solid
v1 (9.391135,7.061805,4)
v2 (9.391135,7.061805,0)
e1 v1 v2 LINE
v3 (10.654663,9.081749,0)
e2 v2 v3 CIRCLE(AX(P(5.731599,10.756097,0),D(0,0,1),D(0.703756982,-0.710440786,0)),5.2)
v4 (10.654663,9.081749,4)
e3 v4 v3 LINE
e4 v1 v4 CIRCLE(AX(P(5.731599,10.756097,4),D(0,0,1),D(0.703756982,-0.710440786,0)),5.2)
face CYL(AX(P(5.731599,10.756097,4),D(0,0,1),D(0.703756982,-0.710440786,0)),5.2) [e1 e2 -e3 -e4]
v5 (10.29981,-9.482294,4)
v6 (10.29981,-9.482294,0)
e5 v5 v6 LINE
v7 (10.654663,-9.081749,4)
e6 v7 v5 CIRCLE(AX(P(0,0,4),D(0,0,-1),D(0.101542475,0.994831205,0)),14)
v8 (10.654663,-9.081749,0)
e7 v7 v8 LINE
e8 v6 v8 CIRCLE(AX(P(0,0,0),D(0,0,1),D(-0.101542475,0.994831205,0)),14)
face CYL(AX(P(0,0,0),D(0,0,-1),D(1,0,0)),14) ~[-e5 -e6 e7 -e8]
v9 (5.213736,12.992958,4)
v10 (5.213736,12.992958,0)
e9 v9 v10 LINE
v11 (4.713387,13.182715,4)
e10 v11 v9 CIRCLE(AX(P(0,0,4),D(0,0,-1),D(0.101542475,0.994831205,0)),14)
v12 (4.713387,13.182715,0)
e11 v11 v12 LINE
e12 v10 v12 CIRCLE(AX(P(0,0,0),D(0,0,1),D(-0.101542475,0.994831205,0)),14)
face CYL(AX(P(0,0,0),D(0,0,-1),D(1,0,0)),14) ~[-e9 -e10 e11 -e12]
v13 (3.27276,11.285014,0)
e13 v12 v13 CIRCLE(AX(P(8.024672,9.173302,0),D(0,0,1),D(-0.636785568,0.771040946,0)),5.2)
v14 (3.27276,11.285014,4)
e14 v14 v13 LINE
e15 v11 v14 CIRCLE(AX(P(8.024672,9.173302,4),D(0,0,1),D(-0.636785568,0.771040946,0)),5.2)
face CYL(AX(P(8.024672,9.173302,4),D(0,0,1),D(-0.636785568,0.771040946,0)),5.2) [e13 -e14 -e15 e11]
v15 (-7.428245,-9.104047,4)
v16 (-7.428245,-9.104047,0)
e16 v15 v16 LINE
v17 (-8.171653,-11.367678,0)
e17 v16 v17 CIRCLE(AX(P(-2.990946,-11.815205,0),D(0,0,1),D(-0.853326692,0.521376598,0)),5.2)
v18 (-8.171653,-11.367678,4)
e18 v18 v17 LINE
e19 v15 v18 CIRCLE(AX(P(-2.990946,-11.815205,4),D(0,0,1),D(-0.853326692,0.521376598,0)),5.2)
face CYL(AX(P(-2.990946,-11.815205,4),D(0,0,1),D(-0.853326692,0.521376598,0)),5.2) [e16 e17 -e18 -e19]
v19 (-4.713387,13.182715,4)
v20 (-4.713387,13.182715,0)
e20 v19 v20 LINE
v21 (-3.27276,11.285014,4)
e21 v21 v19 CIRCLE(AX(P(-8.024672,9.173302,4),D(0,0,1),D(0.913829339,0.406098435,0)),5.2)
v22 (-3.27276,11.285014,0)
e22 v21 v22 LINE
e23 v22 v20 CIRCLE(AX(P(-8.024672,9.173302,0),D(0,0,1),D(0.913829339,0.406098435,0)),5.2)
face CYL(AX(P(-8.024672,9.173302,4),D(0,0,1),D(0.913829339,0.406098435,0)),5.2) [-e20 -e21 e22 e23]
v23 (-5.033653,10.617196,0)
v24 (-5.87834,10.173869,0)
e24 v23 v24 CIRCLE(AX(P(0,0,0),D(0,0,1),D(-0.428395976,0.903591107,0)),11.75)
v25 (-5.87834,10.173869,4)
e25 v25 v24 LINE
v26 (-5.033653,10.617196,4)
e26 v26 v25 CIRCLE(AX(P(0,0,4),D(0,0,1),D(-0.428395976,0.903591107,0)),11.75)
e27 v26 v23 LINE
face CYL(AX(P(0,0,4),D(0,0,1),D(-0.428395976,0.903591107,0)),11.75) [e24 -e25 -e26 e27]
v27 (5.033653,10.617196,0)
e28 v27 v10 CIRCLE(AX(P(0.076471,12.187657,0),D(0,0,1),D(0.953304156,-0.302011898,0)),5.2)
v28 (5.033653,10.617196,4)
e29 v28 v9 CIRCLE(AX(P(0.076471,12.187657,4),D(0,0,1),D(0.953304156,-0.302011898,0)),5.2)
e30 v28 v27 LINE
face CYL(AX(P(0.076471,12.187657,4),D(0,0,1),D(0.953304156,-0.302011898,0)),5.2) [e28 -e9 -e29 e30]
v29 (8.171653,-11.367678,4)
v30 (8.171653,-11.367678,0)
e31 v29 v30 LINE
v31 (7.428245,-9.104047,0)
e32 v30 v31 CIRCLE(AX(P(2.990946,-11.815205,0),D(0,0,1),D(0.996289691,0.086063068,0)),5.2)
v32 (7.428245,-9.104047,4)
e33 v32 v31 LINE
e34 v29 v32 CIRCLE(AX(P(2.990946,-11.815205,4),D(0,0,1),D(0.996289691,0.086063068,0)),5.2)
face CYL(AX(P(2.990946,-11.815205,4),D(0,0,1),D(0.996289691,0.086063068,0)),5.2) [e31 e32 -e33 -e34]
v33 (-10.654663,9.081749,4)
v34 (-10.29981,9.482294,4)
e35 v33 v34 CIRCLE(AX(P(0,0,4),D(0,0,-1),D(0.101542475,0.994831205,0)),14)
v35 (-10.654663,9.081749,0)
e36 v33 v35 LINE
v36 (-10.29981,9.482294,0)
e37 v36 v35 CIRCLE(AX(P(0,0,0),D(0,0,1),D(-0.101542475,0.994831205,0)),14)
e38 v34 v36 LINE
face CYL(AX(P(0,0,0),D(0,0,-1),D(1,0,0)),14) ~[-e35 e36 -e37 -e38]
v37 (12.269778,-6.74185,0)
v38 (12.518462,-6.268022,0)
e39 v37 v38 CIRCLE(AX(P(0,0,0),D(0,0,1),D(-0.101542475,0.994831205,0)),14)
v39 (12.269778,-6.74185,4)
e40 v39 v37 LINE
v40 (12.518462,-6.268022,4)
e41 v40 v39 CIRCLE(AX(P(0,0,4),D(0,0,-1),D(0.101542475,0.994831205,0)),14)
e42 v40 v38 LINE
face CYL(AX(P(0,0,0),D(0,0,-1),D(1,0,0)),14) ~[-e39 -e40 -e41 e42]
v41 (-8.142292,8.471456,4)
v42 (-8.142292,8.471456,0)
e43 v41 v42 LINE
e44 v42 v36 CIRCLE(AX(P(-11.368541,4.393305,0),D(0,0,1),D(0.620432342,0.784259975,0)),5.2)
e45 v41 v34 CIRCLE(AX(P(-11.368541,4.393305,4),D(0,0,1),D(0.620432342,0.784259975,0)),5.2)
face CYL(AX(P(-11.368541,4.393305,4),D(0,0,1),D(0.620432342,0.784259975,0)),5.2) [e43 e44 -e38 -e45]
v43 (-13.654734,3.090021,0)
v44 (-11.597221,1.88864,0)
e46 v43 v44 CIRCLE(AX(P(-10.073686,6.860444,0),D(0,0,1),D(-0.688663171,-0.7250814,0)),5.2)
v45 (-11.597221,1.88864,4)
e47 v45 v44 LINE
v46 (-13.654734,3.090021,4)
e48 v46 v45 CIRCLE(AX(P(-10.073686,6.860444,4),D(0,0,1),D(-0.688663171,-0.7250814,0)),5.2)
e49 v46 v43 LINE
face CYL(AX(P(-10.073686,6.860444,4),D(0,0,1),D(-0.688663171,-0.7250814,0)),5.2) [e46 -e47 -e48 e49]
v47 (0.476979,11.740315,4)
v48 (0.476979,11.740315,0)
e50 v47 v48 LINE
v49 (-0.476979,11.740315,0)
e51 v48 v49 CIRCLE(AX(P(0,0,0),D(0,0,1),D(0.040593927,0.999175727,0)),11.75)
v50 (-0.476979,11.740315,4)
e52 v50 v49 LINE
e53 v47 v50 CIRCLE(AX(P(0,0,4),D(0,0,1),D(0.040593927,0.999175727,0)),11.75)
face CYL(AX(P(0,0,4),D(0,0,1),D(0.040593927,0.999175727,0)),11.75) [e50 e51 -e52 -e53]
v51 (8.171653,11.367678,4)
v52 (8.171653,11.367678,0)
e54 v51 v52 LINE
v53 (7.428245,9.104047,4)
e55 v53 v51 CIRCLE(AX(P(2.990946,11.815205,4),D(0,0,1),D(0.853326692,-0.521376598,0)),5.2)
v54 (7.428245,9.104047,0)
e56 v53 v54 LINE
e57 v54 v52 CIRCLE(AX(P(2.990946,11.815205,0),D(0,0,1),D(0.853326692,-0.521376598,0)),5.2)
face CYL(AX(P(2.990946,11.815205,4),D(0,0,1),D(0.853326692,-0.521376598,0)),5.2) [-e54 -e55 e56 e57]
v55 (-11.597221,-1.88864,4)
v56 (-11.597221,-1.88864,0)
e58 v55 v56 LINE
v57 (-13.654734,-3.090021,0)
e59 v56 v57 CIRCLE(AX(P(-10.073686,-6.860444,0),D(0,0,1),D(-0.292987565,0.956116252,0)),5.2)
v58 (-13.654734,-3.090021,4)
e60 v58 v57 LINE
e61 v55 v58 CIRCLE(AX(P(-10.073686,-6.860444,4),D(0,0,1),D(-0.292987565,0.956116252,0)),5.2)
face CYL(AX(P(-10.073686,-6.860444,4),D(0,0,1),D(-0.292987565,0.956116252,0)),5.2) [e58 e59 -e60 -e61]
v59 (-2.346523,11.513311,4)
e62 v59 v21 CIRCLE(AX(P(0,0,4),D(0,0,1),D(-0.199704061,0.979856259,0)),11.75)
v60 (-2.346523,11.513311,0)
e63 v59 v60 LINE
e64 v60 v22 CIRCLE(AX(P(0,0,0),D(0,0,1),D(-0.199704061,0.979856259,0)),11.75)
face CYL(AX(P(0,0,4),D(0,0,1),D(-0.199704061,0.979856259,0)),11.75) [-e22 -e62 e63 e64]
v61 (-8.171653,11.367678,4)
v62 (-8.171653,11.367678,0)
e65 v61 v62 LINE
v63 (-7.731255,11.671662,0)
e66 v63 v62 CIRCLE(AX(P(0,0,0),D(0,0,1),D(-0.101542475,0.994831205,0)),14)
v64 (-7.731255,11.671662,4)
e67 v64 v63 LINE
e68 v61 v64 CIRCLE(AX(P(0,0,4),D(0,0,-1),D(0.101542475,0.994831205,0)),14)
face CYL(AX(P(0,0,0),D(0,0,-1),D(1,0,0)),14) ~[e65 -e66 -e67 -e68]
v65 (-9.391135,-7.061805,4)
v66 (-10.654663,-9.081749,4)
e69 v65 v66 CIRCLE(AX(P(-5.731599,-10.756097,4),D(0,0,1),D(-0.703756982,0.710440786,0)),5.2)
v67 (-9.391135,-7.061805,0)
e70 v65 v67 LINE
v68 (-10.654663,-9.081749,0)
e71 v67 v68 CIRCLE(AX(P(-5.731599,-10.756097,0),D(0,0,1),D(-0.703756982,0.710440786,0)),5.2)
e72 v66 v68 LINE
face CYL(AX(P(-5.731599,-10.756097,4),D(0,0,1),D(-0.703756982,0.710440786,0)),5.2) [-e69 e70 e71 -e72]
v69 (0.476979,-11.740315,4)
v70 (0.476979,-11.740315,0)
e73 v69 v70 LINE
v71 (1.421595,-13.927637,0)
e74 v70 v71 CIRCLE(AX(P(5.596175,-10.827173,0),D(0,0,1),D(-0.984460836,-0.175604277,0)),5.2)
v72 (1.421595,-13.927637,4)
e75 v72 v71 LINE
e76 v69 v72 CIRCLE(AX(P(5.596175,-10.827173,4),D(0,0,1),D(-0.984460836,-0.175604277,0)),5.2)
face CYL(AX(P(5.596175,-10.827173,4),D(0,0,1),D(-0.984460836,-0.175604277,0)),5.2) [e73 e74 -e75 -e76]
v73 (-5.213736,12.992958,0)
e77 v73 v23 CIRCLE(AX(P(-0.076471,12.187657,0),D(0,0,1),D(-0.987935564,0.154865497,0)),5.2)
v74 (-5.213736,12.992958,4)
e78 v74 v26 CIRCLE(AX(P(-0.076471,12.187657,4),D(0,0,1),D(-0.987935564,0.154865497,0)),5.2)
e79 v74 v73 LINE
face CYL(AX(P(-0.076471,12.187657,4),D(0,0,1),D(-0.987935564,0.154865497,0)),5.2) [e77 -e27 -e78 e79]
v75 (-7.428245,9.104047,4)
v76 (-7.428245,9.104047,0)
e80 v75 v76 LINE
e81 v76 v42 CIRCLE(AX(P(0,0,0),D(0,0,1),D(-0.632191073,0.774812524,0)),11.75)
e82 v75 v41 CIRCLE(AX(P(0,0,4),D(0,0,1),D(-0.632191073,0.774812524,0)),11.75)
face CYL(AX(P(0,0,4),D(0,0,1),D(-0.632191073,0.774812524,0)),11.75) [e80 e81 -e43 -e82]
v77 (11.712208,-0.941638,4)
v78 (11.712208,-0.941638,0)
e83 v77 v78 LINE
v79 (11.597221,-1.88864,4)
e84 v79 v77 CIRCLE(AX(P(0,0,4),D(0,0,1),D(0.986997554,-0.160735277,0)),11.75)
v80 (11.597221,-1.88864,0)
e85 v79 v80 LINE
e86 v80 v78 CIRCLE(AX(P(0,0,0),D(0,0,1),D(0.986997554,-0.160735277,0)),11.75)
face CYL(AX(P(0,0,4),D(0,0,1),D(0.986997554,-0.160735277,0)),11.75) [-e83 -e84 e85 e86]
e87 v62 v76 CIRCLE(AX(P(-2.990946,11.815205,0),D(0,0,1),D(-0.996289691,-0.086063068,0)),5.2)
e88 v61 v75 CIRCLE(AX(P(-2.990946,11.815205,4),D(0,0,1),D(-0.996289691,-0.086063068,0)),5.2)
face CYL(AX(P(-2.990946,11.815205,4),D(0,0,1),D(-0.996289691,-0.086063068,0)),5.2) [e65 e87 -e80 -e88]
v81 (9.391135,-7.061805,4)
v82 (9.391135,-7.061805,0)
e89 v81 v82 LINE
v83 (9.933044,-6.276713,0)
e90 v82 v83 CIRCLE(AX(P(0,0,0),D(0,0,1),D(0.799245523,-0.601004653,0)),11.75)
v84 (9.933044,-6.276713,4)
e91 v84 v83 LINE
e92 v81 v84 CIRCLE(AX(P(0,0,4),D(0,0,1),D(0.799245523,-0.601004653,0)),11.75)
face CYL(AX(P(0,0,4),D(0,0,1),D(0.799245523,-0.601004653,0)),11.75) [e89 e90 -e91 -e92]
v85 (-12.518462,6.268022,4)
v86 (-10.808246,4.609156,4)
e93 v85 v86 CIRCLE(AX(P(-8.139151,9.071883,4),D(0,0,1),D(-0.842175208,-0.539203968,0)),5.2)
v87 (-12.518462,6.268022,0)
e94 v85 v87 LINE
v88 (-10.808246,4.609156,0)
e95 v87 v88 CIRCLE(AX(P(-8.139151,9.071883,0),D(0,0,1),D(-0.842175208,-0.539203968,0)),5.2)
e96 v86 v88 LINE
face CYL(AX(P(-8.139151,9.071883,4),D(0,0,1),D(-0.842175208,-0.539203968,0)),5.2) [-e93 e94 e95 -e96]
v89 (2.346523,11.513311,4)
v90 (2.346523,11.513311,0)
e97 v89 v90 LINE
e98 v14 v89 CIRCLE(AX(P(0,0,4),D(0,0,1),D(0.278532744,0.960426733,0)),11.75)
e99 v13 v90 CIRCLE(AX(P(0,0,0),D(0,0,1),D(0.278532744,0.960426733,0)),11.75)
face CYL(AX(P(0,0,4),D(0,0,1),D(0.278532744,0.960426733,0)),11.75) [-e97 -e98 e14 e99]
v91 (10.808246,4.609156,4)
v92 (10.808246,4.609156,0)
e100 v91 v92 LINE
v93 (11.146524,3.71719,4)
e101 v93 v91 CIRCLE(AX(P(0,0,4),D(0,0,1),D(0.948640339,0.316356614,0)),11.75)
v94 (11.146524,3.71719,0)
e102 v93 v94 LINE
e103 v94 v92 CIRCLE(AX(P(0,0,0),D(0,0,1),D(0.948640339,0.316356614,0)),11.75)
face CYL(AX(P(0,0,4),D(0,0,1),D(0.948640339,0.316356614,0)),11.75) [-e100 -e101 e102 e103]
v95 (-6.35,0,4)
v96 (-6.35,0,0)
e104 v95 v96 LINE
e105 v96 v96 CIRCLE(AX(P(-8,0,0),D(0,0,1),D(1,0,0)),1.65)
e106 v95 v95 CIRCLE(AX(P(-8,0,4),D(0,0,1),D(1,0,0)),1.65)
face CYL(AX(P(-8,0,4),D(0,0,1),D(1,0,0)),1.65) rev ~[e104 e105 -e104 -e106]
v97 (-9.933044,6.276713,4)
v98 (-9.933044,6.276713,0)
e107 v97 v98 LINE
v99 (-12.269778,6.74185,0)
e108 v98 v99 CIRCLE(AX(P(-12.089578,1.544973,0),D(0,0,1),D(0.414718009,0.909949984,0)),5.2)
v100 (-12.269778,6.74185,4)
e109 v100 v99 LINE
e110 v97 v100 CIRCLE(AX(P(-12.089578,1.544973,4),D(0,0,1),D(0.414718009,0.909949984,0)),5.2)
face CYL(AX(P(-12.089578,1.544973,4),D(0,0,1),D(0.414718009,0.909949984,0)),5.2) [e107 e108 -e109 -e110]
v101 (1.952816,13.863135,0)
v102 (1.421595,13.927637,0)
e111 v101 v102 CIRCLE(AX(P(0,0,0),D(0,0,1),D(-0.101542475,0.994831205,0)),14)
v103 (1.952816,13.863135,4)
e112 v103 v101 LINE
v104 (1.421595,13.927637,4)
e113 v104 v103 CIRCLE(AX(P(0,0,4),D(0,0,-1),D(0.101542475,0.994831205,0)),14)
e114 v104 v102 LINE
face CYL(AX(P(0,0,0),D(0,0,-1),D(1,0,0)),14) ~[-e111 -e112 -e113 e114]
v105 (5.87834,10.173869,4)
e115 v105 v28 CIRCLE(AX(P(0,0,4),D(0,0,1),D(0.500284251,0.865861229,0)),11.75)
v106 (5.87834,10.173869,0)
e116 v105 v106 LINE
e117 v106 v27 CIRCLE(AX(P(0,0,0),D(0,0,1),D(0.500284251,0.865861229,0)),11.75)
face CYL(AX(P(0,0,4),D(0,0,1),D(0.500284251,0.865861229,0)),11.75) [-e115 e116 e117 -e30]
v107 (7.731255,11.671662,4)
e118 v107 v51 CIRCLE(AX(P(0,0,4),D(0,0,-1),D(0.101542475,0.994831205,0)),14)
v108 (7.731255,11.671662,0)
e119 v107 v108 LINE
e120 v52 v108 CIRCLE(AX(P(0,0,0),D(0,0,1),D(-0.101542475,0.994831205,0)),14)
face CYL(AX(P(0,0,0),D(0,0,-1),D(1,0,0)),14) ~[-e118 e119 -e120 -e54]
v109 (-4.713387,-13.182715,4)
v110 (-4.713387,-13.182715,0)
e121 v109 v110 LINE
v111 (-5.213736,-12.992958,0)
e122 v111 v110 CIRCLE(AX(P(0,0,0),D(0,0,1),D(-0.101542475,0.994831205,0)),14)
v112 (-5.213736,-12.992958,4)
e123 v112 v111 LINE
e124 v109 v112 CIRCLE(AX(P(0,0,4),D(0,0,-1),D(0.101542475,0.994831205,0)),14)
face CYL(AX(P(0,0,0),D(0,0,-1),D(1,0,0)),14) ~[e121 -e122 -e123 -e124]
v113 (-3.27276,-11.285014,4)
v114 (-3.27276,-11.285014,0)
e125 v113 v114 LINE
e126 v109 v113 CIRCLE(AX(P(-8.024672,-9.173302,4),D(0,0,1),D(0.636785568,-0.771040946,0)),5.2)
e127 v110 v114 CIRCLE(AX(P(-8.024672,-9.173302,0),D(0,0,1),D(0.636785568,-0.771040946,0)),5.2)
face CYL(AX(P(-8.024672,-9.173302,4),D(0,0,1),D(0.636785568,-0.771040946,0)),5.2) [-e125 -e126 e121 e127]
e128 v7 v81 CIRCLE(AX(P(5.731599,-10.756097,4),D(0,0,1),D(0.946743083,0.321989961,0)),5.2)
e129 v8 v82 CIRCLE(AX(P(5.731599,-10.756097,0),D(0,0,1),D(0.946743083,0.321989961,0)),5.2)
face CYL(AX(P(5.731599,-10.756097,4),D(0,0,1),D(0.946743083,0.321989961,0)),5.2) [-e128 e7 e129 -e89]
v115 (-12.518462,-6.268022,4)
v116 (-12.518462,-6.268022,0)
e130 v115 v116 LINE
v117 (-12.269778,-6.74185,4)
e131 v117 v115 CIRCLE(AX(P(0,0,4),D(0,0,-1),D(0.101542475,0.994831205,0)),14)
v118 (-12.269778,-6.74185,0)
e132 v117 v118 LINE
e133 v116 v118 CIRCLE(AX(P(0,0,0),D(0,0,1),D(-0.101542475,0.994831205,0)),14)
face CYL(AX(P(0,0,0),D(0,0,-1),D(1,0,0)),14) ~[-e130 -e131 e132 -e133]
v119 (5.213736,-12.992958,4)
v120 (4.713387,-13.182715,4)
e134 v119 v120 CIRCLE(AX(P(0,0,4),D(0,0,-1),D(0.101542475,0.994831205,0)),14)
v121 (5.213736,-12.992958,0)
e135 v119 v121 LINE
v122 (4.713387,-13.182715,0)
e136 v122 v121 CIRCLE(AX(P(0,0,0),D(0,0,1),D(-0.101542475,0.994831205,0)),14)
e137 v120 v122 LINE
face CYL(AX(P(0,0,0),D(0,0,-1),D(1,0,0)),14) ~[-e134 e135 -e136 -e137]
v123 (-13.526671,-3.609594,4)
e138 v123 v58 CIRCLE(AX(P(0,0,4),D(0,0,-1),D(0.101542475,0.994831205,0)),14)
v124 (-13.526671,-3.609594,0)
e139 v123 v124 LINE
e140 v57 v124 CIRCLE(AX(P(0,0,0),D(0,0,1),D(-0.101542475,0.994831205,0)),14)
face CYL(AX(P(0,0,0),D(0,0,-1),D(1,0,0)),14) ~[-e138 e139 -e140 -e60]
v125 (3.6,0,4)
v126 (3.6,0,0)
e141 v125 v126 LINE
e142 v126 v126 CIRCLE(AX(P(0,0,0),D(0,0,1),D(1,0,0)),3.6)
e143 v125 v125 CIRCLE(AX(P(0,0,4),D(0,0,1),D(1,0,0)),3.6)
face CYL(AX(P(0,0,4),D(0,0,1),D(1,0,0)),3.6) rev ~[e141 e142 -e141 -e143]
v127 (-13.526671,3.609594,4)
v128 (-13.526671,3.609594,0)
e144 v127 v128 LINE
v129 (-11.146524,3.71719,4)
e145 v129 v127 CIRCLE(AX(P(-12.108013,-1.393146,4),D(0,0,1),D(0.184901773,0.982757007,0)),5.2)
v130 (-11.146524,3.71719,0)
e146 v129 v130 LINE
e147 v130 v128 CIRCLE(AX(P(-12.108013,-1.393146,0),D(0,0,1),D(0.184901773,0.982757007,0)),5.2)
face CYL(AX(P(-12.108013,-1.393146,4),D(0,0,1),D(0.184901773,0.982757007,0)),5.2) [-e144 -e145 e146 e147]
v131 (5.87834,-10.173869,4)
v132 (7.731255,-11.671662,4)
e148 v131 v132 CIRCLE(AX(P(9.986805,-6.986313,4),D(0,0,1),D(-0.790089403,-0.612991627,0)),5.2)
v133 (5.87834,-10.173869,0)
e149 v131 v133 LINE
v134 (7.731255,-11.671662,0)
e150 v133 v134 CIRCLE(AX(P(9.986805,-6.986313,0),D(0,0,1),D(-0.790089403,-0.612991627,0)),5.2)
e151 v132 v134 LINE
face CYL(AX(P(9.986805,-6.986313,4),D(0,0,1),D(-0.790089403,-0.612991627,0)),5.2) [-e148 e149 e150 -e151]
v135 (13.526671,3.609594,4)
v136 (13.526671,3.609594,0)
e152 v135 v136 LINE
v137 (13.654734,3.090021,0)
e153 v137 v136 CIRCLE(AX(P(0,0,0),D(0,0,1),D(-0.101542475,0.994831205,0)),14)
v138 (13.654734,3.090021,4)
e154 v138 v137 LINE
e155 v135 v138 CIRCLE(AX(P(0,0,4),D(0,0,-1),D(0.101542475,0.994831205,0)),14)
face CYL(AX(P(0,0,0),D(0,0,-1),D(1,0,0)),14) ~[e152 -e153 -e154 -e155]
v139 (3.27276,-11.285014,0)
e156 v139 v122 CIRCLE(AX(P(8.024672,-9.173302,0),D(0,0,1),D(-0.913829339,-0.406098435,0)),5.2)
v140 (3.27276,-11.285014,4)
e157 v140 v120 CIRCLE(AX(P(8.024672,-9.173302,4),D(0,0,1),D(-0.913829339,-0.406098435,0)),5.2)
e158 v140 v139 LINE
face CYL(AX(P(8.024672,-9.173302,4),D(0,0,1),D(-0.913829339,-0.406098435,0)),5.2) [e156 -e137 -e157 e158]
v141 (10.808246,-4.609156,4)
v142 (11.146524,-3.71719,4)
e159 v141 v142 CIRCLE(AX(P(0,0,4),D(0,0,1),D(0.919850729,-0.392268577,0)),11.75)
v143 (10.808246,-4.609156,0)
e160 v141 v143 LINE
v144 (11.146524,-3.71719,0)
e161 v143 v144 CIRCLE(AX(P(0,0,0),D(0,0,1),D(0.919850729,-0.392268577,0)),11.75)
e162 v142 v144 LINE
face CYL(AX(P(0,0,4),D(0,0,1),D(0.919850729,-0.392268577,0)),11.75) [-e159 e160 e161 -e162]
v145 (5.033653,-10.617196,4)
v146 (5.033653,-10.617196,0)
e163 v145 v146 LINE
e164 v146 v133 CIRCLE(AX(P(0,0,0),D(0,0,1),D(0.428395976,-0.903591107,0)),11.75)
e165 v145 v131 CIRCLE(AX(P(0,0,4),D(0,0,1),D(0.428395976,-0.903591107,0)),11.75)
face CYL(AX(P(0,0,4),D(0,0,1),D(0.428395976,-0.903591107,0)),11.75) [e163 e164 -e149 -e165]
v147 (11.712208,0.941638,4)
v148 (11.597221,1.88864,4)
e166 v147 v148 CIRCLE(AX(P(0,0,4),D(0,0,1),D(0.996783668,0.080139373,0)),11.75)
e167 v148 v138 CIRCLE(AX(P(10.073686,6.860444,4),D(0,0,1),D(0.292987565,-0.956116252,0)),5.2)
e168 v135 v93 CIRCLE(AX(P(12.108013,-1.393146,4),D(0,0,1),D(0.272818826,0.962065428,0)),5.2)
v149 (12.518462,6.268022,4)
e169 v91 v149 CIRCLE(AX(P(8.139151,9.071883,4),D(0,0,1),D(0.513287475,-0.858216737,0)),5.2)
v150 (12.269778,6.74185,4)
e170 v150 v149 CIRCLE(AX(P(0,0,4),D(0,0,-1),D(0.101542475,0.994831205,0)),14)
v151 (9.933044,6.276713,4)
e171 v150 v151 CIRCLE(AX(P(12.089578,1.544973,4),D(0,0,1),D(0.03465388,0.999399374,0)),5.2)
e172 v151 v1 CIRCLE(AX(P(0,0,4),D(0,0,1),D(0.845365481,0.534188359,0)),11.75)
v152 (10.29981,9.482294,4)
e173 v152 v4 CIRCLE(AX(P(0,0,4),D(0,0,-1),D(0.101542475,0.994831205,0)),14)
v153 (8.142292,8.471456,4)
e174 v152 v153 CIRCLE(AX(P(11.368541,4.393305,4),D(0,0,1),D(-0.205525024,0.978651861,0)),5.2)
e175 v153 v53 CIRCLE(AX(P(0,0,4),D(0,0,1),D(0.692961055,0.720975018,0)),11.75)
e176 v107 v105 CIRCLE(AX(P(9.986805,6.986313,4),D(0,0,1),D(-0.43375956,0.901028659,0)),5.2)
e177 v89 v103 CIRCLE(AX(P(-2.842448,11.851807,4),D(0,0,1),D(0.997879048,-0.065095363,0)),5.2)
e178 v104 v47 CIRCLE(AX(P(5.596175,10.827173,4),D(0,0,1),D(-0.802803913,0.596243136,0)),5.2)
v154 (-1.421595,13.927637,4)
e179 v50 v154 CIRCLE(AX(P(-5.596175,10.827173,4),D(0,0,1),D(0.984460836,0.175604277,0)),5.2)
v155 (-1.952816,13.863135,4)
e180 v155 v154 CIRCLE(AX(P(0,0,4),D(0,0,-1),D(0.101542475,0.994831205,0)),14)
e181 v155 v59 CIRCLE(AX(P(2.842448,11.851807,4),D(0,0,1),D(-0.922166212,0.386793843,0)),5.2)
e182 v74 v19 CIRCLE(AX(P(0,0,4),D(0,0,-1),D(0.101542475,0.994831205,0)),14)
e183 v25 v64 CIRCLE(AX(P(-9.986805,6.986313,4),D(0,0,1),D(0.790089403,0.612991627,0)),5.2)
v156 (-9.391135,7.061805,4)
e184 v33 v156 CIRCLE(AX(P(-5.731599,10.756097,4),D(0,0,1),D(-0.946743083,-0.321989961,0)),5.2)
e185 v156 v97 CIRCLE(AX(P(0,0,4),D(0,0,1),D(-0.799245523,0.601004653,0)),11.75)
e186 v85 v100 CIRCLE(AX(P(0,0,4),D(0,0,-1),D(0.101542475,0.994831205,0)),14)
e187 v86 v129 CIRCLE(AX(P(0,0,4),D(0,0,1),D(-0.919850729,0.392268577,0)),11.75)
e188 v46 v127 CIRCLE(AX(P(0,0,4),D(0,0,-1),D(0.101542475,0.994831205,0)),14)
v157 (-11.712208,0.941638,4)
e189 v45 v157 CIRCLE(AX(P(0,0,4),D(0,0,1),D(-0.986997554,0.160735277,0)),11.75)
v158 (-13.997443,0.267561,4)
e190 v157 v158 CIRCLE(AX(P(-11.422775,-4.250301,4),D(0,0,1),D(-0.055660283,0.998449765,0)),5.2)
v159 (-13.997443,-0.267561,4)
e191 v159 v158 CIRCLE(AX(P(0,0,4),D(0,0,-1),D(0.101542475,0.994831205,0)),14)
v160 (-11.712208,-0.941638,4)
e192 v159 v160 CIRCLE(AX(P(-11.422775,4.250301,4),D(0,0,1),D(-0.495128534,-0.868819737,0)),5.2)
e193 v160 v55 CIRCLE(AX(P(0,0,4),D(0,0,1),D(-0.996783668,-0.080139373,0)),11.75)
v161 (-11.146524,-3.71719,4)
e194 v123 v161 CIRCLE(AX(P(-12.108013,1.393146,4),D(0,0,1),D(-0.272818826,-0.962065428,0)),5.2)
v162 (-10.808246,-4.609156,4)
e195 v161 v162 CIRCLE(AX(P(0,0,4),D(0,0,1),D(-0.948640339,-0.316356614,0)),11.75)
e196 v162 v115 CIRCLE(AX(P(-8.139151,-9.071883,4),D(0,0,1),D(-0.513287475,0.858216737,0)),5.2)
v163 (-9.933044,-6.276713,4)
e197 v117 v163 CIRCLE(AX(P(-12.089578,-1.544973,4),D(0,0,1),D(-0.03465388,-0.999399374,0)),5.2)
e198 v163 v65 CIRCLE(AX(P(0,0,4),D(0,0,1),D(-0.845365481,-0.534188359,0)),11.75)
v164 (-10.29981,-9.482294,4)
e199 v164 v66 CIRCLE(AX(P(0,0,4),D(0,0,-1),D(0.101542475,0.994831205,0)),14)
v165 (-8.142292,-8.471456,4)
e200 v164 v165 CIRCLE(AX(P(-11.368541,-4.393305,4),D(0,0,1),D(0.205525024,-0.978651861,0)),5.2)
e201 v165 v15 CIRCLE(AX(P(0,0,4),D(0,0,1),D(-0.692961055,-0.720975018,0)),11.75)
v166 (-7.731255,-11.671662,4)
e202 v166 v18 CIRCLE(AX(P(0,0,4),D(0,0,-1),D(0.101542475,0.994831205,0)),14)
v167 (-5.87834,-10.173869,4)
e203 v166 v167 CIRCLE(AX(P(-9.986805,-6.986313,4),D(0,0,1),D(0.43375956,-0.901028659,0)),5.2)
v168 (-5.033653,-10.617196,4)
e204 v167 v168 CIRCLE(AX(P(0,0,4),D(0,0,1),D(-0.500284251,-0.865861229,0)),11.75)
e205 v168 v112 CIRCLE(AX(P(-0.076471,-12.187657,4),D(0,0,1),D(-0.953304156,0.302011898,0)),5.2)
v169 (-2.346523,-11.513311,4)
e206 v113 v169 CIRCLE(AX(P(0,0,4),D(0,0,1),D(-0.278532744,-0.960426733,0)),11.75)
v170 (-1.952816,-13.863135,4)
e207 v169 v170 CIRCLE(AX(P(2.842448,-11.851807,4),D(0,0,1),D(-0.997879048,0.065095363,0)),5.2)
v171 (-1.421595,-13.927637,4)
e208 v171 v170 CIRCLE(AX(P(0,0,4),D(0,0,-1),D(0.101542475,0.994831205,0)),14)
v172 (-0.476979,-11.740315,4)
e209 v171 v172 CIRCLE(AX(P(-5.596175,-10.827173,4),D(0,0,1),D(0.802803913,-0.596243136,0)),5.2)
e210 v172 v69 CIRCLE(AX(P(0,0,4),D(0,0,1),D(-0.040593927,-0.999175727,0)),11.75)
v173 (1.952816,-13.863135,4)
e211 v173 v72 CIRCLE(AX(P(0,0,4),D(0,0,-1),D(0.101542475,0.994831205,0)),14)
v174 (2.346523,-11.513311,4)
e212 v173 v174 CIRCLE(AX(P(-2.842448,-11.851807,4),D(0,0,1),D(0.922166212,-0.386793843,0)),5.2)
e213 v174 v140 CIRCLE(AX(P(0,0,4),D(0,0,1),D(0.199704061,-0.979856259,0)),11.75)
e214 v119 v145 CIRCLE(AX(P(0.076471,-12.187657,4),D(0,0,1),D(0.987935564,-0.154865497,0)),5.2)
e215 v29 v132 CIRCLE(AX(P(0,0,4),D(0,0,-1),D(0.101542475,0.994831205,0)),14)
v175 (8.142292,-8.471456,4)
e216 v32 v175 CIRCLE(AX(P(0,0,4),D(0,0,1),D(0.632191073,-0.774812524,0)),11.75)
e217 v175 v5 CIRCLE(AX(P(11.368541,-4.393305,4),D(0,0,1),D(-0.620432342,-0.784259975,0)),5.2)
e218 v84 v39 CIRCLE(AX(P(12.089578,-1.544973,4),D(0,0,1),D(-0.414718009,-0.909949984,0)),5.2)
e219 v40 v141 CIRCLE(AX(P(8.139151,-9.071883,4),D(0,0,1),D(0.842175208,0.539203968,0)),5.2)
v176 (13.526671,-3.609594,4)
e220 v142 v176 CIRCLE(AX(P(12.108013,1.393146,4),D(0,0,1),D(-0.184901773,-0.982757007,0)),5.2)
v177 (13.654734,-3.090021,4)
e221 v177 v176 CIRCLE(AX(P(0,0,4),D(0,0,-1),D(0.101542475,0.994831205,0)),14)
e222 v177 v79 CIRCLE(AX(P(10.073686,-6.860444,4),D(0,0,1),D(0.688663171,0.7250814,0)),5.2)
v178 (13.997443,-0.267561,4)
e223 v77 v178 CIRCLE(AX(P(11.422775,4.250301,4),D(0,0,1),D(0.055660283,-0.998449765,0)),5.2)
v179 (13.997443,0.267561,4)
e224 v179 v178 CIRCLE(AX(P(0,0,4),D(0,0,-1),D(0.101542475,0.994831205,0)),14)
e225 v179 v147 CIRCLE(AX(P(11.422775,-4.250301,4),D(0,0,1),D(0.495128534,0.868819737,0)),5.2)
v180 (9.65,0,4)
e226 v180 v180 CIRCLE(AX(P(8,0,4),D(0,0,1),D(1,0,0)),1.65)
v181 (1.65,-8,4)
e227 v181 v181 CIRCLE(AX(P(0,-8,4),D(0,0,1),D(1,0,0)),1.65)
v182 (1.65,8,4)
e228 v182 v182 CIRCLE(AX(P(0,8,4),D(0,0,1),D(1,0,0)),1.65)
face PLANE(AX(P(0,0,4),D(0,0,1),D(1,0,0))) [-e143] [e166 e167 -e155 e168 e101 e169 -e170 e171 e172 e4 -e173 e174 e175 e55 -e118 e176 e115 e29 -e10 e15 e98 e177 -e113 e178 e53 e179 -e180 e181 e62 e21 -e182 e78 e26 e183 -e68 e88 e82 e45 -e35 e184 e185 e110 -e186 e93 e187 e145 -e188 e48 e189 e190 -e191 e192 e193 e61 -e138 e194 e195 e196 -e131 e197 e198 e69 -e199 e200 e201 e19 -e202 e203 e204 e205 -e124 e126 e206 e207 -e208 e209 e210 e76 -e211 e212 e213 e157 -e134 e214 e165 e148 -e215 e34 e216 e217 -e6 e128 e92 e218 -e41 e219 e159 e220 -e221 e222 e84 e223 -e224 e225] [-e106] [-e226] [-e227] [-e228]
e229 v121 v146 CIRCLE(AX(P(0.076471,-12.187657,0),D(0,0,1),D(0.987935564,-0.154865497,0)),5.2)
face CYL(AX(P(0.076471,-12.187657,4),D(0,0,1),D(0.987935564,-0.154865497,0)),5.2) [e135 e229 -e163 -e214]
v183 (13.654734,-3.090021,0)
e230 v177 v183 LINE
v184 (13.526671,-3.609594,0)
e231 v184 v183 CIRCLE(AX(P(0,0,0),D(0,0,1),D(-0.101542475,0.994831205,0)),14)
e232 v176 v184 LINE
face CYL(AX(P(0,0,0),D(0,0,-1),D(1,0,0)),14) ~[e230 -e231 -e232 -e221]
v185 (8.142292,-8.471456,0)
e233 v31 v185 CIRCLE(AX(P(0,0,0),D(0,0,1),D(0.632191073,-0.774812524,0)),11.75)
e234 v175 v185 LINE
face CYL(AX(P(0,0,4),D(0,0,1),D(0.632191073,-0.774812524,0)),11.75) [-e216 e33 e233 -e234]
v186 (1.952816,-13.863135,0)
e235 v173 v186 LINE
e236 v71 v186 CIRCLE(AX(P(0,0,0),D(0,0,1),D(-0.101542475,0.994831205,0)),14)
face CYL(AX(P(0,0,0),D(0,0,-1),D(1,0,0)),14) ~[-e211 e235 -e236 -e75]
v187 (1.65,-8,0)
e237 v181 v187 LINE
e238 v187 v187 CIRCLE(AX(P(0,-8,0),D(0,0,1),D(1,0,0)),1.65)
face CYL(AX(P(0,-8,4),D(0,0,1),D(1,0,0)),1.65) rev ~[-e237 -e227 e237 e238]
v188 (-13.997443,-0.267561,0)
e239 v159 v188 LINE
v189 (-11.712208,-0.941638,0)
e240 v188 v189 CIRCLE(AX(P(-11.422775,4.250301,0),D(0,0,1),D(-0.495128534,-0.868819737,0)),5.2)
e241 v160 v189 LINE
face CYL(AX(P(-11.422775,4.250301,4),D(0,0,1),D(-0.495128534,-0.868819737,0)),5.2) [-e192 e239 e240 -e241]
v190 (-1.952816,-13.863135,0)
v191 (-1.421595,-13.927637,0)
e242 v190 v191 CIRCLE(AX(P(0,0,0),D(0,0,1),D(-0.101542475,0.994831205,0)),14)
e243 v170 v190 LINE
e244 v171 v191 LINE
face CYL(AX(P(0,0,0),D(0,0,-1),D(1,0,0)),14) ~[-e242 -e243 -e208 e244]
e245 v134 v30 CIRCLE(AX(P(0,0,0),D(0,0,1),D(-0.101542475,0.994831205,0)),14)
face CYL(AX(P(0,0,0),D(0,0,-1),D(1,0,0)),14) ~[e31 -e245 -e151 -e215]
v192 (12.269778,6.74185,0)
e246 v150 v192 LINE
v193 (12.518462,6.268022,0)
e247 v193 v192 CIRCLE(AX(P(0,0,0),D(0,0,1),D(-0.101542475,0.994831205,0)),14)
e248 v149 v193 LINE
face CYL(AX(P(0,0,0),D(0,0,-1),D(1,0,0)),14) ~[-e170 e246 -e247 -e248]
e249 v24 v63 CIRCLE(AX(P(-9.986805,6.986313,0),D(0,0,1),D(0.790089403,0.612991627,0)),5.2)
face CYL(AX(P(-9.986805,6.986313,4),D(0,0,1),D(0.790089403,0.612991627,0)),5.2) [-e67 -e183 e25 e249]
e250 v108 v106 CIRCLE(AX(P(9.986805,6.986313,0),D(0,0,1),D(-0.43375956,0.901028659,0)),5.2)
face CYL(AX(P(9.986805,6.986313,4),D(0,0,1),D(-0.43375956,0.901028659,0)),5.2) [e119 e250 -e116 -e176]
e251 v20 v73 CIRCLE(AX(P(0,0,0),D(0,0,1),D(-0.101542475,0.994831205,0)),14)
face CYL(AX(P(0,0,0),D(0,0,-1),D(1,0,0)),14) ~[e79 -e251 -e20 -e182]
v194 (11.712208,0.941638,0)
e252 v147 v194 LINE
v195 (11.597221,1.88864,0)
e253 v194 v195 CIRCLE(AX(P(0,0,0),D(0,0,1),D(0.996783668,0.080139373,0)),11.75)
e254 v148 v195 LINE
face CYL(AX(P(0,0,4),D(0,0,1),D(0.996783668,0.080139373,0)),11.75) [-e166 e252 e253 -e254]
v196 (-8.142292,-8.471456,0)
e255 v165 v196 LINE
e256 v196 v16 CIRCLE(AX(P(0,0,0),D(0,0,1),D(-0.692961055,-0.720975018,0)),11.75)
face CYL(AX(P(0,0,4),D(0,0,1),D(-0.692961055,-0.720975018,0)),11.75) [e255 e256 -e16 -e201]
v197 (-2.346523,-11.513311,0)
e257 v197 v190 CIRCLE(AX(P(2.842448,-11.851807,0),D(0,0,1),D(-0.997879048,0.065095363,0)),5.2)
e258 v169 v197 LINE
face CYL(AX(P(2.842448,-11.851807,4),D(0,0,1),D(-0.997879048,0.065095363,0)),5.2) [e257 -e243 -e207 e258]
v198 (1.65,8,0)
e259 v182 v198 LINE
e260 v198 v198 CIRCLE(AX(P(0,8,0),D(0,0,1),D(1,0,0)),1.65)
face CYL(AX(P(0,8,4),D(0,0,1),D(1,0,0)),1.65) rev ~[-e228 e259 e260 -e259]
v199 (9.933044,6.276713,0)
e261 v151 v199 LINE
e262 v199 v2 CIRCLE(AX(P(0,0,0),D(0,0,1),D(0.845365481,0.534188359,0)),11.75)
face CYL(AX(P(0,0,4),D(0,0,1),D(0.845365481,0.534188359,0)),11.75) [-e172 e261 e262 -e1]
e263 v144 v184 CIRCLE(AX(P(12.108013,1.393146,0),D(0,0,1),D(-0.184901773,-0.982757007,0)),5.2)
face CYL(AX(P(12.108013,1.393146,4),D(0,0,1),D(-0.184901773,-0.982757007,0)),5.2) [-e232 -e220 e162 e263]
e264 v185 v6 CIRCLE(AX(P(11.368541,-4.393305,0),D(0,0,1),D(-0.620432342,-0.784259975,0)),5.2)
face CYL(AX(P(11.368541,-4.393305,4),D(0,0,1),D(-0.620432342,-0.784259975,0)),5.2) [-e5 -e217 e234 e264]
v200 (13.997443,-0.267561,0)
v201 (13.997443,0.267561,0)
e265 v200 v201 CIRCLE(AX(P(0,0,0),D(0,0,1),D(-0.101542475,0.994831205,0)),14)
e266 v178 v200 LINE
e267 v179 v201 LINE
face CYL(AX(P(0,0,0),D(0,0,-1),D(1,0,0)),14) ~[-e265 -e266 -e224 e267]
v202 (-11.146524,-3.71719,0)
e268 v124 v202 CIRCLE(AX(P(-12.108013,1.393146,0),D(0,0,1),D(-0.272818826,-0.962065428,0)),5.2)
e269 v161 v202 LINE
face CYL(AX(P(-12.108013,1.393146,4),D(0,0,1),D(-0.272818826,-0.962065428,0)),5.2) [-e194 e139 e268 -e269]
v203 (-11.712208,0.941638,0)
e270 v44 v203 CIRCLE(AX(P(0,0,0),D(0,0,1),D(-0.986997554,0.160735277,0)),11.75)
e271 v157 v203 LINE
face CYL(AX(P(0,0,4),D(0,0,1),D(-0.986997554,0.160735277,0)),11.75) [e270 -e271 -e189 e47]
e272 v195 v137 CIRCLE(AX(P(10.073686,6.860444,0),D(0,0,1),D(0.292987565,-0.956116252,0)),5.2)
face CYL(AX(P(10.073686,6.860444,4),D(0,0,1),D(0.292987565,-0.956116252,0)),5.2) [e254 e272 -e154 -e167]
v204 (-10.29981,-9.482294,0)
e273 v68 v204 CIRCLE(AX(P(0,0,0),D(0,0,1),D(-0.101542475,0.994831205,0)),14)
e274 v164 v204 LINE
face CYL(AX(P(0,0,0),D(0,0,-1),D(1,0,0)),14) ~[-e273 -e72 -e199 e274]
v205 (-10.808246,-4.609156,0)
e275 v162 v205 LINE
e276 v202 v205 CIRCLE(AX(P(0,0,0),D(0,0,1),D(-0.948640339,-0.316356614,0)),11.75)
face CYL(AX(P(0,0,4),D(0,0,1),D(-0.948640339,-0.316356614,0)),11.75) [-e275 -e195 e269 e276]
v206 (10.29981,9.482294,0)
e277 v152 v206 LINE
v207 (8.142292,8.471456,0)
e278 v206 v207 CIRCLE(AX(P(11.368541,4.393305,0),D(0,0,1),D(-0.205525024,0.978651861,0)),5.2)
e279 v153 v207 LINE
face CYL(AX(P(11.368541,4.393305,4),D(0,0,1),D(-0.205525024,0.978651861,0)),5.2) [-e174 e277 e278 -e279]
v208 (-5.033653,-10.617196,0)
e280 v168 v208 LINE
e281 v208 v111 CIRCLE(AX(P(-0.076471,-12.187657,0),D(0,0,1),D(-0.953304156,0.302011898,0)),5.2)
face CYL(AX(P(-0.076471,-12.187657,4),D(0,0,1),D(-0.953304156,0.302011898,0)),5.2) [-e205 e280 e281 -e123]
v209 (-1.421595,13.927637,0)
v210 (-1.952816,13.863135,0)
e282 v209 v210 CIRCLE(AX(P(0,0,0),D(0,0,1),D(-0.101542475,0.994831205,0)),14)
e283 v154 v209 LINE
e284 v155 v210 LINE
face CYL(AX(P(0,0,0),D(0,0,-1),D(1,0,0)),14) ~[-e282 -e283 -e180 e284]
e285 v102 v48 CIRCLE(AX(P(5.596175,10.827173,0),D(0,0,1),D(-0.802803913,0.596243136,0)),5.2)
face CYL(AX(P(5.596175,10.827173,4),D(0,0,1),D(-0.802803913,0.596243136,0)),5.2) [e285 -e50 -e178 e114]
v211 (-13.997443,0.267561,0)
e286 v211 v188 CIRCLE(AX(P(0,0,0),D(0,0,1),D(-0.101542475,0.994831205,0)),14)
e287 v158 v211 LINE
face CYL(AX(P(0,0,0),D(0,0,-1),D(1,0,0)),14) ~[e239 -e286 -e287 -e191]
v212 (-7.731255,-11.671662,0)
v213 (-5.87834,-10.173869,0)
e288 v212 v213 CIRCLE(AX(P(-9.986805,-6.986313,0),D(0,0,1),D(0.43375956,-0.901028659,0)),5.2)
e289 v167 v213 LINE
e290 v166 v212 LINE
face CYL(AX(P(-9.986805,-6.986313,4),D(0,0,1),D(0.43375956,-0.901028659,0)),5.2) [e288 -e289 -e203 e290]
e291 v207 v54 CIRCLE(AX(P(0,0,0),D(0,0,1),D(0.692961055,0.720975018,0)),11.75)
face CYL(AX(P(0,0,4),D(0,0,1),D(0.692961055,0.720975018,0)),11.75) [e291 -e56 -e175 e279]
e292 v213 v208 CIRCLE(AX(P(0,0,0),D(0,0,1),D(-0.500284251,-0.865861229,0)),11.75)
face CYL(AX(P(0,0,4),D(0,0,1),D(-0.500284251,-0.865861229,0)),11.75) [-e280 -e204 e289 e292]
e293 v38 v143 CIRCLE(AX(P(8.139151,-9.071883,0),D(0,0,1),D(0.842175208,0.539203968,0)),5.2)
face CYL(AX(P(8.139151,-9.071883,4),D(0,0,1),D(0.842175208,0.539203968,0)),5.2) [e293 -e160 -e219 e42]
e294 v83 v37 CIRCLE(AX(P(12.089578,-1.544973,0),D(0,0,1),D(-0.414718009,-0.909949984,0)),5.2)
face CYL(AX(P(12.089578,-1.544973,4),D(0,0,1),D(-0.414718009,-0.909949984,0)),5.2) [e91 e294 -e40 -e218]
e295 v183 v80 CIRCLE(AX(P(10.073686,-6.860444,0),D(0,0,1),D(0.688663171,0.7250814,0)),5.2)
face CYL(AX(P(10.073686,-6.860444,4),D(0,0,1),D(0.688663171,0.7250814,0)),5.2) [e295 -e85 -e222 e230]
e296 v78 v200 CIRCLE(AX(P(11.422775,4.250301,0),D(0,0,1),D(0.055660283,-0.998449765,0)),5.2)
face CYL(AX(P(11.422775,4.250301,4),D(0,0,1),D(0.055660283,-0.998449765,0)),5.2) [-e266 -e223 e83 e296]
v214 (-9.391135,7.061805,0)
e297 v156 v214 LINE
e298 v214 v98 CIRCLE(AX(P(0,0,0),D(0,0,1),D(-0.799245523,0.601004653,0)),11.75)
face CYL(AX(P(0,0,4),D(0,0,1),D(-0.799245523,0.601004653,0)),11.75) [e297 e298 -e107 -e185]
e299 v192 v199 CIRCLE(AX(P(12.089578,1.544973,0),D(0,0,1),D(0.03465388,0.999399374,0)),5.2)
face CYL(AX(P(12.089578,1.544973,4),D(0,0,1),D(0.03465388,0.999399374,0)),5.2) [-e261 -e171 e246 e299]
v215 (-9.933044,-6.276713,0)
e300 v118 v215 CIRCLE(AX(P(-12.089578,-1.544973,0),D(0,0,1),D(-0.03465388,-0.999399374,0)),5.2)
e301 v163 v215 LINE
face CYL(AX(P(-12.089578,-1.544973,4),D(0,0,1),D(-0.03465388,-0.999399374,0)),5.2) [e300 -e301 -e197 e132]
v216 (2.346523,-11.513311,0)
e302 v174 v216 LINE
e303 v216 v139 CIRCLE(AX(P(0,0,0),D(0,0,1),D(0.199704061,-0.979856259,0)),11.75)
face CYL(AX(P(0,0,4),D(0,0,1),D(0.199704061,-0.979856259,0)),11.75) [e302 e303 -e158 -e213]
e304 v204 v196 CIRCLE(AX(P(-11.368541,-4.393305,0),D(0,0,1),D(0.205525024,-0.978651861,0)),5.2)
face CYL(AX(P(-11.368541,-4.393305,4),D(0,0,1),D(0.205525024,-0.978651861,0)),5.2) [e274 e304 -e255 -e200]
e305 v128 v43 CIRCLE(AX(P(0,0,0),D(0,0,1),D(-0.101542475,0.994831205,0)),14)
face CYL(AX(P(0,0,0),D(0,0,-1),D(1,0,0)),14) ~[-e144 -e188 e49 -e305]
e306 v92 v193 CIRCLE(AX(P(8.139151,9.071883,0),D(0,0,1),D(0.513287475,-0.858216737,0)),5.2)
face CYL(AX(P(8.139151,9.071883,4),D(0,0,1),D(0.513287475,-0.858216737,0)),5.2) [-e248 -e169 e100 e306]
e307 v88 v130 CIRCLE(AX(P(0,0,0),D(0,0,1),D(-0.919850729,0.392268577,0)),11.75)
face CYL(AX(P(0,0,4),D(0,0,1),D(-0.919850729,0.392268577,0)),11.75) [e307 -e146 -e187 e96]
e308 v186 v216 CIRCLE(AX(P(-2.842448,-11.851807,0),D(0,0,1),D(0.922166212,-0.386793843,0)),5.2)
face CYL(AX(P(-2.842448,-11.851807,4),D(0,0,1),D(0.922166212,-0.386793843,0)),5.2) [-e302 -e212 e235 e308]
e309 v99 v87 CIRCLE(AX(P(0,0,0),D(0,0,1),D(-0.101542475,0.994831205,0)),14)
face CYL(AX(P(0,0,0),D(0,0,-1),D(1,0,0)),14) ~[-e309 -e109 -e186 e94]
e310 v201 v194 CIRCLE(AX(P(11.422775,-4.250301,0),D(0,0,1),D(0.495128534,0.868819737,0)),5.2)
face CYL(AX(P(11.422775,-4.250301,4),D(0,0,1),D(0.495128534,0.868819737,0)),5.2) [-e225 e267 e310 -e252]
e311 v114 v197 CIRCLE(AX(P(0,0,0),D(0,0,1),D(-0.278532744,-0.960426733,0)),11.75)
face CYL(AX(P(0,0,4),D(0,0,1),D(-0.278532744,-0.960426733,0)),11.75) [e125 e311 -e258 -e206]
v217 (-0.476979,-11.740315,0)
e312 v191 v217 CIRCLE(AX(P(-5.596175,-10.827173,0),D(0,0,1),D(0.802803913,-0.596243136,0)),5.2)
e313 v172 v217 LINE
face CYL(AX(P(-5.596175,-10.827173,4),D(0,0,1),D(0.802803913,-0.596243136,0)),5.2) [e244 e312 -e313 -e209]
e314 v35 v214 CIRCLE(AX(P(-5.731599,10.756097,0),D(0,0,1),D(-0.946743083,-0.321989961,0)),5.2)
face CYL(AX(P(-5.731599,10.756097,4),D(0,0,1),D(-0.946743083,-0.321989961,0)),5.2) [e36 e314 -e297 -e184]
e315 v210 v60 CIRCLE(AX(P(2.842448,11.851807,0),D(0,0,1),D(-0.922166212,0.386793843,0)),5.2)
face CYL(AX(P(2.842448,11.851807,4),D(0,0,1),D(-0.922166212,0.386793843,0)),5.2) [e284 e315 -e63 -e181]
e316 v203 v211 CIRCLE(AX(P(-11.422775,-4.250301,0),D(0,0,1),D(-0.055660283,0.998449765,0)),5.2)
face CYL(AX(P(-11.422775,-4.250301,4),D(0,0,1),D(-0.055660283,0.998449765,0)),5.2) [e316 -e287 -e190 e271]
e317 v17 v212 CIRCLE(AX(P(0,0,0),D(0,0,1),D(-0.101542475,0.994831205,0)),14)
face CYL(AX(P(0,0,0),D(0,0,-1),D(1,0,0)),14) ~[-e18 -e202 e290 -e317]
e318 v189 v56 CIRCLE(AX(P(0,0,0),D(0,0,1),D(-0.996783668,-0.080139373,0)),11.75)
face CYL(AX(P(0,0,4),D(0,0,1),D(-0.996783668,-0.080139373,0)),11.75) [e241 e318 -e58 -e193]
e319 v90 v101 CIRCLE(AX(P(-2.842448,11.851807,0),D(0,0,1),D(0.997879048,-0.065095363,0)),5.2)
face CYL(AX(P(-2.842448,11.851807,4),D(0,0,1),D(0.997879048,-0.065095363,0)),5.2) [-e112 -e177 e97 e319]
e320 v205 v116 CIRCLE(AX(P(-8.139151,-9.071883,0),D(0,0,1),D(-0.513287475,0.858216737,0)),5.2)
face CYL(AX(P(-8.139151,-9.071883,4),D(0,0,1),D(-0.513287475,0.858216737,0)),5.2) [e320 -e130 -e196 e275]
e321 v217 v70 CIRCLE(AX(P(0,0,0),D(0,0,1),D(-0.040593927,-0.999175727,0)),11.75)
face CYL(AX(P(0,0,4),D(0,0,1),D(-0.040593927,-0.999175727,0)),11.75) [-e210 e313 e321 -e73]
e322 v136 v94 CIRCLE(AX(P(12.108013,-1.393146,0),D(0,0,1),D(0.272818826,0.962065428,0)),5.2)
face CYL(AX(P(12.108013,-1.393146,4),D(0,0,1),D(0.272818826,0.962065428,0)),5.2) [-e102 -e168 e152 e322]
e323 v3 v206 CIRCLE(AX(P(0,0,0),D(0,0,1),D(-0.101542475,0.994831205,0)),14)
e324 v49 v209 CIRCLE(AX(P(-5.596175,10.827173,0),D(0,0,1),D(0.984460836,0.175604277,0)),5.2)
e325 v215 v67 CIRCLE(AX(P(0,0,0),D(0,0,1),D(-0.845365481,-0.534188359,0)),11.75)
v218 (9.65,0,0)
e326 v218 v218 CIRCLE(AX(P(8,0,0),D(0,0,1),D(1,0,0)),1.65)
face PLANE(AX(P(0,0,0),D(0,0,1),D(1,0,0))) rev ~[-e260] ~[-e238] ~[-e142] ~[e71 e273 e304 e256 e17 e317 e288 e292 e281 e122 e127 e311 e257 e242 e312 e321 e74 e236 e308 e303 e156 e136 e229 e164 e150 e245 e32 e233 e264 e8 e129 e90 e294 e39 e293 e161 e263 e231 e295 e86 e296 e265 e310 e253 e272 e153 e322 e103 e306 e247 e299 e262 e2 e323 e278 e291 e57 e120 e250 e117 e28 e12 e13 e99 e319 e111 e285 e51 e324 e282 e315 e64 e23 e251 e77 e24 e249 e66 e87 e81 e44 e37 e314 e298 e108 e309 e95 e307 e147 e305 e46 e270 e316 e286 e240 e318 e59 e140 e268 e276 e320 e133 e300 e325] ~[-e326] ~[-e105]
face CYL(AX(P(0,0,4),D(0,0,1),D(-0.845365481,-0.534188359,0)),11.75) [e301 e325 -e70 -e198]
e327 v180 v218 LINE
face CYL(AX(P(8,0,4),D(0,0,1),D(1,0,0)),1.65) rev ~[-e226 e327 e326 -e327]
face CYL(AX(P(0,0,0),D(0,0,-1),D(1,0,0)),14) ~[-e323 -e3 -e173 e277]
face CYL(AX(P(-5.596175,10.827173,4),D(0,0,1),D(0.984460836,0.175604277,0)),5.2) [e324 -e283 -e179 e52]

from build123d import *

# Parameters (mm, degrees)
SKETCH_1_R               = 14
EXTRUDE_1_DEPTH          = 4
CUT_EXTRUDE_1_DEPTH      = 4
PATTERN_CIRCULAR_1_COUNT = 26
CUT_EXTRUDE_2_REACH      = 6
SKETCH_5_R               = 3.6
SKETCH_5_R_2             = 1.65


with BuildPart() as part:
    # 草圖1 → 填料-伸長1 (new body)
    with BuildSketch(Plane.XY):
        Circle(SKETCH_1_R)
    extrude(amount=EXTRUDE_1_DEPTH)

    # 草圖4 → 除料-伸長1 (cut)
    with BuildSketch(Plane.XY.offset(4)):
        with BuildLine():
            ThreePointArc((-1.421594657, 13.927636865), (0, 14), (1.421594657, 13.927636865))
            ThreePointArc((1.421594657, 13.927636865), (0.822322703, 12.888806427), (0.476978653, 11.74031479))
            ThreePointArc((0.476978653, 11.74031479), (0, 11.75), (-0.476978653, 11.74031479))
            ThreePointArc((-0.476978653, 11.74031479), (-0.822322703, 12.888806427), (-1.421594657, 13.927636865))
        make_face()
    cut_extrude_1 = extrude(amount=-CUT_EXTRUDE_1_DEPTH, mode=Mode.SUBTRACT)

    # 環狀複製排列1: 除料-伸長1 ×26 about axis
    pattern_circular_1_axis = Axis((0, 0, 0), (0, 0, 1))
    for i in range(1, PATTERN_CIRCULAR_1_COUNT):
        add(cut_extrude_1.rotate(pattern_circular_1_axis, i * 360 / PATTERN_CIRCULAR_1_COUNT), mode=Mode.SUBTRACT)

    # 草圖5 → 除料-伸長2 (cut, up to next)
    with BuildSketch(Plane.XY.offset(4), mode=Mode.PRIVATE) as cut_extrude_2_sk1:
        Circle(SKETCH_5_R)
    cut_extrude_2_tool1 = extrude(cut_extrude_2_sk1.sketch, amount=-CUT_EXTRUDE_2_REACH, mode=Mode.PRIVATE) & part.part
    add(cut_extrude_2_tool1.solids().sort_by_distance((0, 0, 4))[0], mode=Mode.SUBTRACT)
    # 草圖5 → 除料-伸長2 (cut, up to next)
    with BuildSketch(Plane.XY.offset(4), mode=Mode.PRIVATE) as cut_extrude_2_sk2:
        with Locations((0, 8)):
            Circle(SKETCH_5_R_2)
    cut_extrude_2_tool2 = extrude(cut_extrude_2_sk2.sketch, amount=-CUT_EXTRUDE_2_REACH, mode=Mode.PRIVATE) & part.part
    add(cut_extrude_2_tool2.solids().sort_by_distance((0, 8, 4))[0], mode=Mode.SUBTRACT)
    # 草圖5 → 除料-伸長2 (cut, up to next)
    with BuildSketch(Plane.XY.offset(4), mode=Mode.PRIVATE) as cut_extrude_2_sk3:
        with Locations((8, 0)):
            Circle(SKETCH_5_R_2)
    cut_extrude_2_tool3 = extrude(cut_extrude_2_sk3.sketch, amount=-CUT_EXTRUDE_2_REACH, mode=Mode.PRIVATE) & part.part
    add(cut_extrude_2_tool3.solids().sort_by_distance((8, 0, 4))[0], mode=Mode.SUBTRACT)
    # 草圖5 → 除料-伸長2 (cut, up to next)
    with BuildSketch(Plane.XY.offset(4), mode=Mode.PRIVATE) as cut_extrude_2_sk4:
        with Locations((0, -8)):
            Circle(SKETCH_5_R_2)
    cut_extrude_2_tool4 = extrude(cut_extrude_2_sk4.sketch, amount=-CUT_EXTRUDE_2_REACH, mode=Mode.PRIVATE) & part.part
    add(cut_extrude_2_tool4.solids().sort_by_distance((0, -8, 4))[0], mode=Mode.SUBTRACT)
    # 草圖5 → 除料-伸長2 (cut, up to next)
    with BuildSketch(Plane.XY.offset(4), mode=Mode.PRIVATE) as cut_extrude_2_sk5:
        with Locations((-8, 0)):
            Circle(SKETCH_5_R_2)
    cut_extrude_2_tool5 = extrude(cut_extrude_2_sk5.sketch, amount=-CUT_EXTRUDE_2_REACH, mode=Mode.PRIVATE) & part.part
    add(cut_extrude_2_tool5.solids().sort_by_distance((-8, 0, 4))[0], mode=Mode.SUBTRACT)


solid = part.part
